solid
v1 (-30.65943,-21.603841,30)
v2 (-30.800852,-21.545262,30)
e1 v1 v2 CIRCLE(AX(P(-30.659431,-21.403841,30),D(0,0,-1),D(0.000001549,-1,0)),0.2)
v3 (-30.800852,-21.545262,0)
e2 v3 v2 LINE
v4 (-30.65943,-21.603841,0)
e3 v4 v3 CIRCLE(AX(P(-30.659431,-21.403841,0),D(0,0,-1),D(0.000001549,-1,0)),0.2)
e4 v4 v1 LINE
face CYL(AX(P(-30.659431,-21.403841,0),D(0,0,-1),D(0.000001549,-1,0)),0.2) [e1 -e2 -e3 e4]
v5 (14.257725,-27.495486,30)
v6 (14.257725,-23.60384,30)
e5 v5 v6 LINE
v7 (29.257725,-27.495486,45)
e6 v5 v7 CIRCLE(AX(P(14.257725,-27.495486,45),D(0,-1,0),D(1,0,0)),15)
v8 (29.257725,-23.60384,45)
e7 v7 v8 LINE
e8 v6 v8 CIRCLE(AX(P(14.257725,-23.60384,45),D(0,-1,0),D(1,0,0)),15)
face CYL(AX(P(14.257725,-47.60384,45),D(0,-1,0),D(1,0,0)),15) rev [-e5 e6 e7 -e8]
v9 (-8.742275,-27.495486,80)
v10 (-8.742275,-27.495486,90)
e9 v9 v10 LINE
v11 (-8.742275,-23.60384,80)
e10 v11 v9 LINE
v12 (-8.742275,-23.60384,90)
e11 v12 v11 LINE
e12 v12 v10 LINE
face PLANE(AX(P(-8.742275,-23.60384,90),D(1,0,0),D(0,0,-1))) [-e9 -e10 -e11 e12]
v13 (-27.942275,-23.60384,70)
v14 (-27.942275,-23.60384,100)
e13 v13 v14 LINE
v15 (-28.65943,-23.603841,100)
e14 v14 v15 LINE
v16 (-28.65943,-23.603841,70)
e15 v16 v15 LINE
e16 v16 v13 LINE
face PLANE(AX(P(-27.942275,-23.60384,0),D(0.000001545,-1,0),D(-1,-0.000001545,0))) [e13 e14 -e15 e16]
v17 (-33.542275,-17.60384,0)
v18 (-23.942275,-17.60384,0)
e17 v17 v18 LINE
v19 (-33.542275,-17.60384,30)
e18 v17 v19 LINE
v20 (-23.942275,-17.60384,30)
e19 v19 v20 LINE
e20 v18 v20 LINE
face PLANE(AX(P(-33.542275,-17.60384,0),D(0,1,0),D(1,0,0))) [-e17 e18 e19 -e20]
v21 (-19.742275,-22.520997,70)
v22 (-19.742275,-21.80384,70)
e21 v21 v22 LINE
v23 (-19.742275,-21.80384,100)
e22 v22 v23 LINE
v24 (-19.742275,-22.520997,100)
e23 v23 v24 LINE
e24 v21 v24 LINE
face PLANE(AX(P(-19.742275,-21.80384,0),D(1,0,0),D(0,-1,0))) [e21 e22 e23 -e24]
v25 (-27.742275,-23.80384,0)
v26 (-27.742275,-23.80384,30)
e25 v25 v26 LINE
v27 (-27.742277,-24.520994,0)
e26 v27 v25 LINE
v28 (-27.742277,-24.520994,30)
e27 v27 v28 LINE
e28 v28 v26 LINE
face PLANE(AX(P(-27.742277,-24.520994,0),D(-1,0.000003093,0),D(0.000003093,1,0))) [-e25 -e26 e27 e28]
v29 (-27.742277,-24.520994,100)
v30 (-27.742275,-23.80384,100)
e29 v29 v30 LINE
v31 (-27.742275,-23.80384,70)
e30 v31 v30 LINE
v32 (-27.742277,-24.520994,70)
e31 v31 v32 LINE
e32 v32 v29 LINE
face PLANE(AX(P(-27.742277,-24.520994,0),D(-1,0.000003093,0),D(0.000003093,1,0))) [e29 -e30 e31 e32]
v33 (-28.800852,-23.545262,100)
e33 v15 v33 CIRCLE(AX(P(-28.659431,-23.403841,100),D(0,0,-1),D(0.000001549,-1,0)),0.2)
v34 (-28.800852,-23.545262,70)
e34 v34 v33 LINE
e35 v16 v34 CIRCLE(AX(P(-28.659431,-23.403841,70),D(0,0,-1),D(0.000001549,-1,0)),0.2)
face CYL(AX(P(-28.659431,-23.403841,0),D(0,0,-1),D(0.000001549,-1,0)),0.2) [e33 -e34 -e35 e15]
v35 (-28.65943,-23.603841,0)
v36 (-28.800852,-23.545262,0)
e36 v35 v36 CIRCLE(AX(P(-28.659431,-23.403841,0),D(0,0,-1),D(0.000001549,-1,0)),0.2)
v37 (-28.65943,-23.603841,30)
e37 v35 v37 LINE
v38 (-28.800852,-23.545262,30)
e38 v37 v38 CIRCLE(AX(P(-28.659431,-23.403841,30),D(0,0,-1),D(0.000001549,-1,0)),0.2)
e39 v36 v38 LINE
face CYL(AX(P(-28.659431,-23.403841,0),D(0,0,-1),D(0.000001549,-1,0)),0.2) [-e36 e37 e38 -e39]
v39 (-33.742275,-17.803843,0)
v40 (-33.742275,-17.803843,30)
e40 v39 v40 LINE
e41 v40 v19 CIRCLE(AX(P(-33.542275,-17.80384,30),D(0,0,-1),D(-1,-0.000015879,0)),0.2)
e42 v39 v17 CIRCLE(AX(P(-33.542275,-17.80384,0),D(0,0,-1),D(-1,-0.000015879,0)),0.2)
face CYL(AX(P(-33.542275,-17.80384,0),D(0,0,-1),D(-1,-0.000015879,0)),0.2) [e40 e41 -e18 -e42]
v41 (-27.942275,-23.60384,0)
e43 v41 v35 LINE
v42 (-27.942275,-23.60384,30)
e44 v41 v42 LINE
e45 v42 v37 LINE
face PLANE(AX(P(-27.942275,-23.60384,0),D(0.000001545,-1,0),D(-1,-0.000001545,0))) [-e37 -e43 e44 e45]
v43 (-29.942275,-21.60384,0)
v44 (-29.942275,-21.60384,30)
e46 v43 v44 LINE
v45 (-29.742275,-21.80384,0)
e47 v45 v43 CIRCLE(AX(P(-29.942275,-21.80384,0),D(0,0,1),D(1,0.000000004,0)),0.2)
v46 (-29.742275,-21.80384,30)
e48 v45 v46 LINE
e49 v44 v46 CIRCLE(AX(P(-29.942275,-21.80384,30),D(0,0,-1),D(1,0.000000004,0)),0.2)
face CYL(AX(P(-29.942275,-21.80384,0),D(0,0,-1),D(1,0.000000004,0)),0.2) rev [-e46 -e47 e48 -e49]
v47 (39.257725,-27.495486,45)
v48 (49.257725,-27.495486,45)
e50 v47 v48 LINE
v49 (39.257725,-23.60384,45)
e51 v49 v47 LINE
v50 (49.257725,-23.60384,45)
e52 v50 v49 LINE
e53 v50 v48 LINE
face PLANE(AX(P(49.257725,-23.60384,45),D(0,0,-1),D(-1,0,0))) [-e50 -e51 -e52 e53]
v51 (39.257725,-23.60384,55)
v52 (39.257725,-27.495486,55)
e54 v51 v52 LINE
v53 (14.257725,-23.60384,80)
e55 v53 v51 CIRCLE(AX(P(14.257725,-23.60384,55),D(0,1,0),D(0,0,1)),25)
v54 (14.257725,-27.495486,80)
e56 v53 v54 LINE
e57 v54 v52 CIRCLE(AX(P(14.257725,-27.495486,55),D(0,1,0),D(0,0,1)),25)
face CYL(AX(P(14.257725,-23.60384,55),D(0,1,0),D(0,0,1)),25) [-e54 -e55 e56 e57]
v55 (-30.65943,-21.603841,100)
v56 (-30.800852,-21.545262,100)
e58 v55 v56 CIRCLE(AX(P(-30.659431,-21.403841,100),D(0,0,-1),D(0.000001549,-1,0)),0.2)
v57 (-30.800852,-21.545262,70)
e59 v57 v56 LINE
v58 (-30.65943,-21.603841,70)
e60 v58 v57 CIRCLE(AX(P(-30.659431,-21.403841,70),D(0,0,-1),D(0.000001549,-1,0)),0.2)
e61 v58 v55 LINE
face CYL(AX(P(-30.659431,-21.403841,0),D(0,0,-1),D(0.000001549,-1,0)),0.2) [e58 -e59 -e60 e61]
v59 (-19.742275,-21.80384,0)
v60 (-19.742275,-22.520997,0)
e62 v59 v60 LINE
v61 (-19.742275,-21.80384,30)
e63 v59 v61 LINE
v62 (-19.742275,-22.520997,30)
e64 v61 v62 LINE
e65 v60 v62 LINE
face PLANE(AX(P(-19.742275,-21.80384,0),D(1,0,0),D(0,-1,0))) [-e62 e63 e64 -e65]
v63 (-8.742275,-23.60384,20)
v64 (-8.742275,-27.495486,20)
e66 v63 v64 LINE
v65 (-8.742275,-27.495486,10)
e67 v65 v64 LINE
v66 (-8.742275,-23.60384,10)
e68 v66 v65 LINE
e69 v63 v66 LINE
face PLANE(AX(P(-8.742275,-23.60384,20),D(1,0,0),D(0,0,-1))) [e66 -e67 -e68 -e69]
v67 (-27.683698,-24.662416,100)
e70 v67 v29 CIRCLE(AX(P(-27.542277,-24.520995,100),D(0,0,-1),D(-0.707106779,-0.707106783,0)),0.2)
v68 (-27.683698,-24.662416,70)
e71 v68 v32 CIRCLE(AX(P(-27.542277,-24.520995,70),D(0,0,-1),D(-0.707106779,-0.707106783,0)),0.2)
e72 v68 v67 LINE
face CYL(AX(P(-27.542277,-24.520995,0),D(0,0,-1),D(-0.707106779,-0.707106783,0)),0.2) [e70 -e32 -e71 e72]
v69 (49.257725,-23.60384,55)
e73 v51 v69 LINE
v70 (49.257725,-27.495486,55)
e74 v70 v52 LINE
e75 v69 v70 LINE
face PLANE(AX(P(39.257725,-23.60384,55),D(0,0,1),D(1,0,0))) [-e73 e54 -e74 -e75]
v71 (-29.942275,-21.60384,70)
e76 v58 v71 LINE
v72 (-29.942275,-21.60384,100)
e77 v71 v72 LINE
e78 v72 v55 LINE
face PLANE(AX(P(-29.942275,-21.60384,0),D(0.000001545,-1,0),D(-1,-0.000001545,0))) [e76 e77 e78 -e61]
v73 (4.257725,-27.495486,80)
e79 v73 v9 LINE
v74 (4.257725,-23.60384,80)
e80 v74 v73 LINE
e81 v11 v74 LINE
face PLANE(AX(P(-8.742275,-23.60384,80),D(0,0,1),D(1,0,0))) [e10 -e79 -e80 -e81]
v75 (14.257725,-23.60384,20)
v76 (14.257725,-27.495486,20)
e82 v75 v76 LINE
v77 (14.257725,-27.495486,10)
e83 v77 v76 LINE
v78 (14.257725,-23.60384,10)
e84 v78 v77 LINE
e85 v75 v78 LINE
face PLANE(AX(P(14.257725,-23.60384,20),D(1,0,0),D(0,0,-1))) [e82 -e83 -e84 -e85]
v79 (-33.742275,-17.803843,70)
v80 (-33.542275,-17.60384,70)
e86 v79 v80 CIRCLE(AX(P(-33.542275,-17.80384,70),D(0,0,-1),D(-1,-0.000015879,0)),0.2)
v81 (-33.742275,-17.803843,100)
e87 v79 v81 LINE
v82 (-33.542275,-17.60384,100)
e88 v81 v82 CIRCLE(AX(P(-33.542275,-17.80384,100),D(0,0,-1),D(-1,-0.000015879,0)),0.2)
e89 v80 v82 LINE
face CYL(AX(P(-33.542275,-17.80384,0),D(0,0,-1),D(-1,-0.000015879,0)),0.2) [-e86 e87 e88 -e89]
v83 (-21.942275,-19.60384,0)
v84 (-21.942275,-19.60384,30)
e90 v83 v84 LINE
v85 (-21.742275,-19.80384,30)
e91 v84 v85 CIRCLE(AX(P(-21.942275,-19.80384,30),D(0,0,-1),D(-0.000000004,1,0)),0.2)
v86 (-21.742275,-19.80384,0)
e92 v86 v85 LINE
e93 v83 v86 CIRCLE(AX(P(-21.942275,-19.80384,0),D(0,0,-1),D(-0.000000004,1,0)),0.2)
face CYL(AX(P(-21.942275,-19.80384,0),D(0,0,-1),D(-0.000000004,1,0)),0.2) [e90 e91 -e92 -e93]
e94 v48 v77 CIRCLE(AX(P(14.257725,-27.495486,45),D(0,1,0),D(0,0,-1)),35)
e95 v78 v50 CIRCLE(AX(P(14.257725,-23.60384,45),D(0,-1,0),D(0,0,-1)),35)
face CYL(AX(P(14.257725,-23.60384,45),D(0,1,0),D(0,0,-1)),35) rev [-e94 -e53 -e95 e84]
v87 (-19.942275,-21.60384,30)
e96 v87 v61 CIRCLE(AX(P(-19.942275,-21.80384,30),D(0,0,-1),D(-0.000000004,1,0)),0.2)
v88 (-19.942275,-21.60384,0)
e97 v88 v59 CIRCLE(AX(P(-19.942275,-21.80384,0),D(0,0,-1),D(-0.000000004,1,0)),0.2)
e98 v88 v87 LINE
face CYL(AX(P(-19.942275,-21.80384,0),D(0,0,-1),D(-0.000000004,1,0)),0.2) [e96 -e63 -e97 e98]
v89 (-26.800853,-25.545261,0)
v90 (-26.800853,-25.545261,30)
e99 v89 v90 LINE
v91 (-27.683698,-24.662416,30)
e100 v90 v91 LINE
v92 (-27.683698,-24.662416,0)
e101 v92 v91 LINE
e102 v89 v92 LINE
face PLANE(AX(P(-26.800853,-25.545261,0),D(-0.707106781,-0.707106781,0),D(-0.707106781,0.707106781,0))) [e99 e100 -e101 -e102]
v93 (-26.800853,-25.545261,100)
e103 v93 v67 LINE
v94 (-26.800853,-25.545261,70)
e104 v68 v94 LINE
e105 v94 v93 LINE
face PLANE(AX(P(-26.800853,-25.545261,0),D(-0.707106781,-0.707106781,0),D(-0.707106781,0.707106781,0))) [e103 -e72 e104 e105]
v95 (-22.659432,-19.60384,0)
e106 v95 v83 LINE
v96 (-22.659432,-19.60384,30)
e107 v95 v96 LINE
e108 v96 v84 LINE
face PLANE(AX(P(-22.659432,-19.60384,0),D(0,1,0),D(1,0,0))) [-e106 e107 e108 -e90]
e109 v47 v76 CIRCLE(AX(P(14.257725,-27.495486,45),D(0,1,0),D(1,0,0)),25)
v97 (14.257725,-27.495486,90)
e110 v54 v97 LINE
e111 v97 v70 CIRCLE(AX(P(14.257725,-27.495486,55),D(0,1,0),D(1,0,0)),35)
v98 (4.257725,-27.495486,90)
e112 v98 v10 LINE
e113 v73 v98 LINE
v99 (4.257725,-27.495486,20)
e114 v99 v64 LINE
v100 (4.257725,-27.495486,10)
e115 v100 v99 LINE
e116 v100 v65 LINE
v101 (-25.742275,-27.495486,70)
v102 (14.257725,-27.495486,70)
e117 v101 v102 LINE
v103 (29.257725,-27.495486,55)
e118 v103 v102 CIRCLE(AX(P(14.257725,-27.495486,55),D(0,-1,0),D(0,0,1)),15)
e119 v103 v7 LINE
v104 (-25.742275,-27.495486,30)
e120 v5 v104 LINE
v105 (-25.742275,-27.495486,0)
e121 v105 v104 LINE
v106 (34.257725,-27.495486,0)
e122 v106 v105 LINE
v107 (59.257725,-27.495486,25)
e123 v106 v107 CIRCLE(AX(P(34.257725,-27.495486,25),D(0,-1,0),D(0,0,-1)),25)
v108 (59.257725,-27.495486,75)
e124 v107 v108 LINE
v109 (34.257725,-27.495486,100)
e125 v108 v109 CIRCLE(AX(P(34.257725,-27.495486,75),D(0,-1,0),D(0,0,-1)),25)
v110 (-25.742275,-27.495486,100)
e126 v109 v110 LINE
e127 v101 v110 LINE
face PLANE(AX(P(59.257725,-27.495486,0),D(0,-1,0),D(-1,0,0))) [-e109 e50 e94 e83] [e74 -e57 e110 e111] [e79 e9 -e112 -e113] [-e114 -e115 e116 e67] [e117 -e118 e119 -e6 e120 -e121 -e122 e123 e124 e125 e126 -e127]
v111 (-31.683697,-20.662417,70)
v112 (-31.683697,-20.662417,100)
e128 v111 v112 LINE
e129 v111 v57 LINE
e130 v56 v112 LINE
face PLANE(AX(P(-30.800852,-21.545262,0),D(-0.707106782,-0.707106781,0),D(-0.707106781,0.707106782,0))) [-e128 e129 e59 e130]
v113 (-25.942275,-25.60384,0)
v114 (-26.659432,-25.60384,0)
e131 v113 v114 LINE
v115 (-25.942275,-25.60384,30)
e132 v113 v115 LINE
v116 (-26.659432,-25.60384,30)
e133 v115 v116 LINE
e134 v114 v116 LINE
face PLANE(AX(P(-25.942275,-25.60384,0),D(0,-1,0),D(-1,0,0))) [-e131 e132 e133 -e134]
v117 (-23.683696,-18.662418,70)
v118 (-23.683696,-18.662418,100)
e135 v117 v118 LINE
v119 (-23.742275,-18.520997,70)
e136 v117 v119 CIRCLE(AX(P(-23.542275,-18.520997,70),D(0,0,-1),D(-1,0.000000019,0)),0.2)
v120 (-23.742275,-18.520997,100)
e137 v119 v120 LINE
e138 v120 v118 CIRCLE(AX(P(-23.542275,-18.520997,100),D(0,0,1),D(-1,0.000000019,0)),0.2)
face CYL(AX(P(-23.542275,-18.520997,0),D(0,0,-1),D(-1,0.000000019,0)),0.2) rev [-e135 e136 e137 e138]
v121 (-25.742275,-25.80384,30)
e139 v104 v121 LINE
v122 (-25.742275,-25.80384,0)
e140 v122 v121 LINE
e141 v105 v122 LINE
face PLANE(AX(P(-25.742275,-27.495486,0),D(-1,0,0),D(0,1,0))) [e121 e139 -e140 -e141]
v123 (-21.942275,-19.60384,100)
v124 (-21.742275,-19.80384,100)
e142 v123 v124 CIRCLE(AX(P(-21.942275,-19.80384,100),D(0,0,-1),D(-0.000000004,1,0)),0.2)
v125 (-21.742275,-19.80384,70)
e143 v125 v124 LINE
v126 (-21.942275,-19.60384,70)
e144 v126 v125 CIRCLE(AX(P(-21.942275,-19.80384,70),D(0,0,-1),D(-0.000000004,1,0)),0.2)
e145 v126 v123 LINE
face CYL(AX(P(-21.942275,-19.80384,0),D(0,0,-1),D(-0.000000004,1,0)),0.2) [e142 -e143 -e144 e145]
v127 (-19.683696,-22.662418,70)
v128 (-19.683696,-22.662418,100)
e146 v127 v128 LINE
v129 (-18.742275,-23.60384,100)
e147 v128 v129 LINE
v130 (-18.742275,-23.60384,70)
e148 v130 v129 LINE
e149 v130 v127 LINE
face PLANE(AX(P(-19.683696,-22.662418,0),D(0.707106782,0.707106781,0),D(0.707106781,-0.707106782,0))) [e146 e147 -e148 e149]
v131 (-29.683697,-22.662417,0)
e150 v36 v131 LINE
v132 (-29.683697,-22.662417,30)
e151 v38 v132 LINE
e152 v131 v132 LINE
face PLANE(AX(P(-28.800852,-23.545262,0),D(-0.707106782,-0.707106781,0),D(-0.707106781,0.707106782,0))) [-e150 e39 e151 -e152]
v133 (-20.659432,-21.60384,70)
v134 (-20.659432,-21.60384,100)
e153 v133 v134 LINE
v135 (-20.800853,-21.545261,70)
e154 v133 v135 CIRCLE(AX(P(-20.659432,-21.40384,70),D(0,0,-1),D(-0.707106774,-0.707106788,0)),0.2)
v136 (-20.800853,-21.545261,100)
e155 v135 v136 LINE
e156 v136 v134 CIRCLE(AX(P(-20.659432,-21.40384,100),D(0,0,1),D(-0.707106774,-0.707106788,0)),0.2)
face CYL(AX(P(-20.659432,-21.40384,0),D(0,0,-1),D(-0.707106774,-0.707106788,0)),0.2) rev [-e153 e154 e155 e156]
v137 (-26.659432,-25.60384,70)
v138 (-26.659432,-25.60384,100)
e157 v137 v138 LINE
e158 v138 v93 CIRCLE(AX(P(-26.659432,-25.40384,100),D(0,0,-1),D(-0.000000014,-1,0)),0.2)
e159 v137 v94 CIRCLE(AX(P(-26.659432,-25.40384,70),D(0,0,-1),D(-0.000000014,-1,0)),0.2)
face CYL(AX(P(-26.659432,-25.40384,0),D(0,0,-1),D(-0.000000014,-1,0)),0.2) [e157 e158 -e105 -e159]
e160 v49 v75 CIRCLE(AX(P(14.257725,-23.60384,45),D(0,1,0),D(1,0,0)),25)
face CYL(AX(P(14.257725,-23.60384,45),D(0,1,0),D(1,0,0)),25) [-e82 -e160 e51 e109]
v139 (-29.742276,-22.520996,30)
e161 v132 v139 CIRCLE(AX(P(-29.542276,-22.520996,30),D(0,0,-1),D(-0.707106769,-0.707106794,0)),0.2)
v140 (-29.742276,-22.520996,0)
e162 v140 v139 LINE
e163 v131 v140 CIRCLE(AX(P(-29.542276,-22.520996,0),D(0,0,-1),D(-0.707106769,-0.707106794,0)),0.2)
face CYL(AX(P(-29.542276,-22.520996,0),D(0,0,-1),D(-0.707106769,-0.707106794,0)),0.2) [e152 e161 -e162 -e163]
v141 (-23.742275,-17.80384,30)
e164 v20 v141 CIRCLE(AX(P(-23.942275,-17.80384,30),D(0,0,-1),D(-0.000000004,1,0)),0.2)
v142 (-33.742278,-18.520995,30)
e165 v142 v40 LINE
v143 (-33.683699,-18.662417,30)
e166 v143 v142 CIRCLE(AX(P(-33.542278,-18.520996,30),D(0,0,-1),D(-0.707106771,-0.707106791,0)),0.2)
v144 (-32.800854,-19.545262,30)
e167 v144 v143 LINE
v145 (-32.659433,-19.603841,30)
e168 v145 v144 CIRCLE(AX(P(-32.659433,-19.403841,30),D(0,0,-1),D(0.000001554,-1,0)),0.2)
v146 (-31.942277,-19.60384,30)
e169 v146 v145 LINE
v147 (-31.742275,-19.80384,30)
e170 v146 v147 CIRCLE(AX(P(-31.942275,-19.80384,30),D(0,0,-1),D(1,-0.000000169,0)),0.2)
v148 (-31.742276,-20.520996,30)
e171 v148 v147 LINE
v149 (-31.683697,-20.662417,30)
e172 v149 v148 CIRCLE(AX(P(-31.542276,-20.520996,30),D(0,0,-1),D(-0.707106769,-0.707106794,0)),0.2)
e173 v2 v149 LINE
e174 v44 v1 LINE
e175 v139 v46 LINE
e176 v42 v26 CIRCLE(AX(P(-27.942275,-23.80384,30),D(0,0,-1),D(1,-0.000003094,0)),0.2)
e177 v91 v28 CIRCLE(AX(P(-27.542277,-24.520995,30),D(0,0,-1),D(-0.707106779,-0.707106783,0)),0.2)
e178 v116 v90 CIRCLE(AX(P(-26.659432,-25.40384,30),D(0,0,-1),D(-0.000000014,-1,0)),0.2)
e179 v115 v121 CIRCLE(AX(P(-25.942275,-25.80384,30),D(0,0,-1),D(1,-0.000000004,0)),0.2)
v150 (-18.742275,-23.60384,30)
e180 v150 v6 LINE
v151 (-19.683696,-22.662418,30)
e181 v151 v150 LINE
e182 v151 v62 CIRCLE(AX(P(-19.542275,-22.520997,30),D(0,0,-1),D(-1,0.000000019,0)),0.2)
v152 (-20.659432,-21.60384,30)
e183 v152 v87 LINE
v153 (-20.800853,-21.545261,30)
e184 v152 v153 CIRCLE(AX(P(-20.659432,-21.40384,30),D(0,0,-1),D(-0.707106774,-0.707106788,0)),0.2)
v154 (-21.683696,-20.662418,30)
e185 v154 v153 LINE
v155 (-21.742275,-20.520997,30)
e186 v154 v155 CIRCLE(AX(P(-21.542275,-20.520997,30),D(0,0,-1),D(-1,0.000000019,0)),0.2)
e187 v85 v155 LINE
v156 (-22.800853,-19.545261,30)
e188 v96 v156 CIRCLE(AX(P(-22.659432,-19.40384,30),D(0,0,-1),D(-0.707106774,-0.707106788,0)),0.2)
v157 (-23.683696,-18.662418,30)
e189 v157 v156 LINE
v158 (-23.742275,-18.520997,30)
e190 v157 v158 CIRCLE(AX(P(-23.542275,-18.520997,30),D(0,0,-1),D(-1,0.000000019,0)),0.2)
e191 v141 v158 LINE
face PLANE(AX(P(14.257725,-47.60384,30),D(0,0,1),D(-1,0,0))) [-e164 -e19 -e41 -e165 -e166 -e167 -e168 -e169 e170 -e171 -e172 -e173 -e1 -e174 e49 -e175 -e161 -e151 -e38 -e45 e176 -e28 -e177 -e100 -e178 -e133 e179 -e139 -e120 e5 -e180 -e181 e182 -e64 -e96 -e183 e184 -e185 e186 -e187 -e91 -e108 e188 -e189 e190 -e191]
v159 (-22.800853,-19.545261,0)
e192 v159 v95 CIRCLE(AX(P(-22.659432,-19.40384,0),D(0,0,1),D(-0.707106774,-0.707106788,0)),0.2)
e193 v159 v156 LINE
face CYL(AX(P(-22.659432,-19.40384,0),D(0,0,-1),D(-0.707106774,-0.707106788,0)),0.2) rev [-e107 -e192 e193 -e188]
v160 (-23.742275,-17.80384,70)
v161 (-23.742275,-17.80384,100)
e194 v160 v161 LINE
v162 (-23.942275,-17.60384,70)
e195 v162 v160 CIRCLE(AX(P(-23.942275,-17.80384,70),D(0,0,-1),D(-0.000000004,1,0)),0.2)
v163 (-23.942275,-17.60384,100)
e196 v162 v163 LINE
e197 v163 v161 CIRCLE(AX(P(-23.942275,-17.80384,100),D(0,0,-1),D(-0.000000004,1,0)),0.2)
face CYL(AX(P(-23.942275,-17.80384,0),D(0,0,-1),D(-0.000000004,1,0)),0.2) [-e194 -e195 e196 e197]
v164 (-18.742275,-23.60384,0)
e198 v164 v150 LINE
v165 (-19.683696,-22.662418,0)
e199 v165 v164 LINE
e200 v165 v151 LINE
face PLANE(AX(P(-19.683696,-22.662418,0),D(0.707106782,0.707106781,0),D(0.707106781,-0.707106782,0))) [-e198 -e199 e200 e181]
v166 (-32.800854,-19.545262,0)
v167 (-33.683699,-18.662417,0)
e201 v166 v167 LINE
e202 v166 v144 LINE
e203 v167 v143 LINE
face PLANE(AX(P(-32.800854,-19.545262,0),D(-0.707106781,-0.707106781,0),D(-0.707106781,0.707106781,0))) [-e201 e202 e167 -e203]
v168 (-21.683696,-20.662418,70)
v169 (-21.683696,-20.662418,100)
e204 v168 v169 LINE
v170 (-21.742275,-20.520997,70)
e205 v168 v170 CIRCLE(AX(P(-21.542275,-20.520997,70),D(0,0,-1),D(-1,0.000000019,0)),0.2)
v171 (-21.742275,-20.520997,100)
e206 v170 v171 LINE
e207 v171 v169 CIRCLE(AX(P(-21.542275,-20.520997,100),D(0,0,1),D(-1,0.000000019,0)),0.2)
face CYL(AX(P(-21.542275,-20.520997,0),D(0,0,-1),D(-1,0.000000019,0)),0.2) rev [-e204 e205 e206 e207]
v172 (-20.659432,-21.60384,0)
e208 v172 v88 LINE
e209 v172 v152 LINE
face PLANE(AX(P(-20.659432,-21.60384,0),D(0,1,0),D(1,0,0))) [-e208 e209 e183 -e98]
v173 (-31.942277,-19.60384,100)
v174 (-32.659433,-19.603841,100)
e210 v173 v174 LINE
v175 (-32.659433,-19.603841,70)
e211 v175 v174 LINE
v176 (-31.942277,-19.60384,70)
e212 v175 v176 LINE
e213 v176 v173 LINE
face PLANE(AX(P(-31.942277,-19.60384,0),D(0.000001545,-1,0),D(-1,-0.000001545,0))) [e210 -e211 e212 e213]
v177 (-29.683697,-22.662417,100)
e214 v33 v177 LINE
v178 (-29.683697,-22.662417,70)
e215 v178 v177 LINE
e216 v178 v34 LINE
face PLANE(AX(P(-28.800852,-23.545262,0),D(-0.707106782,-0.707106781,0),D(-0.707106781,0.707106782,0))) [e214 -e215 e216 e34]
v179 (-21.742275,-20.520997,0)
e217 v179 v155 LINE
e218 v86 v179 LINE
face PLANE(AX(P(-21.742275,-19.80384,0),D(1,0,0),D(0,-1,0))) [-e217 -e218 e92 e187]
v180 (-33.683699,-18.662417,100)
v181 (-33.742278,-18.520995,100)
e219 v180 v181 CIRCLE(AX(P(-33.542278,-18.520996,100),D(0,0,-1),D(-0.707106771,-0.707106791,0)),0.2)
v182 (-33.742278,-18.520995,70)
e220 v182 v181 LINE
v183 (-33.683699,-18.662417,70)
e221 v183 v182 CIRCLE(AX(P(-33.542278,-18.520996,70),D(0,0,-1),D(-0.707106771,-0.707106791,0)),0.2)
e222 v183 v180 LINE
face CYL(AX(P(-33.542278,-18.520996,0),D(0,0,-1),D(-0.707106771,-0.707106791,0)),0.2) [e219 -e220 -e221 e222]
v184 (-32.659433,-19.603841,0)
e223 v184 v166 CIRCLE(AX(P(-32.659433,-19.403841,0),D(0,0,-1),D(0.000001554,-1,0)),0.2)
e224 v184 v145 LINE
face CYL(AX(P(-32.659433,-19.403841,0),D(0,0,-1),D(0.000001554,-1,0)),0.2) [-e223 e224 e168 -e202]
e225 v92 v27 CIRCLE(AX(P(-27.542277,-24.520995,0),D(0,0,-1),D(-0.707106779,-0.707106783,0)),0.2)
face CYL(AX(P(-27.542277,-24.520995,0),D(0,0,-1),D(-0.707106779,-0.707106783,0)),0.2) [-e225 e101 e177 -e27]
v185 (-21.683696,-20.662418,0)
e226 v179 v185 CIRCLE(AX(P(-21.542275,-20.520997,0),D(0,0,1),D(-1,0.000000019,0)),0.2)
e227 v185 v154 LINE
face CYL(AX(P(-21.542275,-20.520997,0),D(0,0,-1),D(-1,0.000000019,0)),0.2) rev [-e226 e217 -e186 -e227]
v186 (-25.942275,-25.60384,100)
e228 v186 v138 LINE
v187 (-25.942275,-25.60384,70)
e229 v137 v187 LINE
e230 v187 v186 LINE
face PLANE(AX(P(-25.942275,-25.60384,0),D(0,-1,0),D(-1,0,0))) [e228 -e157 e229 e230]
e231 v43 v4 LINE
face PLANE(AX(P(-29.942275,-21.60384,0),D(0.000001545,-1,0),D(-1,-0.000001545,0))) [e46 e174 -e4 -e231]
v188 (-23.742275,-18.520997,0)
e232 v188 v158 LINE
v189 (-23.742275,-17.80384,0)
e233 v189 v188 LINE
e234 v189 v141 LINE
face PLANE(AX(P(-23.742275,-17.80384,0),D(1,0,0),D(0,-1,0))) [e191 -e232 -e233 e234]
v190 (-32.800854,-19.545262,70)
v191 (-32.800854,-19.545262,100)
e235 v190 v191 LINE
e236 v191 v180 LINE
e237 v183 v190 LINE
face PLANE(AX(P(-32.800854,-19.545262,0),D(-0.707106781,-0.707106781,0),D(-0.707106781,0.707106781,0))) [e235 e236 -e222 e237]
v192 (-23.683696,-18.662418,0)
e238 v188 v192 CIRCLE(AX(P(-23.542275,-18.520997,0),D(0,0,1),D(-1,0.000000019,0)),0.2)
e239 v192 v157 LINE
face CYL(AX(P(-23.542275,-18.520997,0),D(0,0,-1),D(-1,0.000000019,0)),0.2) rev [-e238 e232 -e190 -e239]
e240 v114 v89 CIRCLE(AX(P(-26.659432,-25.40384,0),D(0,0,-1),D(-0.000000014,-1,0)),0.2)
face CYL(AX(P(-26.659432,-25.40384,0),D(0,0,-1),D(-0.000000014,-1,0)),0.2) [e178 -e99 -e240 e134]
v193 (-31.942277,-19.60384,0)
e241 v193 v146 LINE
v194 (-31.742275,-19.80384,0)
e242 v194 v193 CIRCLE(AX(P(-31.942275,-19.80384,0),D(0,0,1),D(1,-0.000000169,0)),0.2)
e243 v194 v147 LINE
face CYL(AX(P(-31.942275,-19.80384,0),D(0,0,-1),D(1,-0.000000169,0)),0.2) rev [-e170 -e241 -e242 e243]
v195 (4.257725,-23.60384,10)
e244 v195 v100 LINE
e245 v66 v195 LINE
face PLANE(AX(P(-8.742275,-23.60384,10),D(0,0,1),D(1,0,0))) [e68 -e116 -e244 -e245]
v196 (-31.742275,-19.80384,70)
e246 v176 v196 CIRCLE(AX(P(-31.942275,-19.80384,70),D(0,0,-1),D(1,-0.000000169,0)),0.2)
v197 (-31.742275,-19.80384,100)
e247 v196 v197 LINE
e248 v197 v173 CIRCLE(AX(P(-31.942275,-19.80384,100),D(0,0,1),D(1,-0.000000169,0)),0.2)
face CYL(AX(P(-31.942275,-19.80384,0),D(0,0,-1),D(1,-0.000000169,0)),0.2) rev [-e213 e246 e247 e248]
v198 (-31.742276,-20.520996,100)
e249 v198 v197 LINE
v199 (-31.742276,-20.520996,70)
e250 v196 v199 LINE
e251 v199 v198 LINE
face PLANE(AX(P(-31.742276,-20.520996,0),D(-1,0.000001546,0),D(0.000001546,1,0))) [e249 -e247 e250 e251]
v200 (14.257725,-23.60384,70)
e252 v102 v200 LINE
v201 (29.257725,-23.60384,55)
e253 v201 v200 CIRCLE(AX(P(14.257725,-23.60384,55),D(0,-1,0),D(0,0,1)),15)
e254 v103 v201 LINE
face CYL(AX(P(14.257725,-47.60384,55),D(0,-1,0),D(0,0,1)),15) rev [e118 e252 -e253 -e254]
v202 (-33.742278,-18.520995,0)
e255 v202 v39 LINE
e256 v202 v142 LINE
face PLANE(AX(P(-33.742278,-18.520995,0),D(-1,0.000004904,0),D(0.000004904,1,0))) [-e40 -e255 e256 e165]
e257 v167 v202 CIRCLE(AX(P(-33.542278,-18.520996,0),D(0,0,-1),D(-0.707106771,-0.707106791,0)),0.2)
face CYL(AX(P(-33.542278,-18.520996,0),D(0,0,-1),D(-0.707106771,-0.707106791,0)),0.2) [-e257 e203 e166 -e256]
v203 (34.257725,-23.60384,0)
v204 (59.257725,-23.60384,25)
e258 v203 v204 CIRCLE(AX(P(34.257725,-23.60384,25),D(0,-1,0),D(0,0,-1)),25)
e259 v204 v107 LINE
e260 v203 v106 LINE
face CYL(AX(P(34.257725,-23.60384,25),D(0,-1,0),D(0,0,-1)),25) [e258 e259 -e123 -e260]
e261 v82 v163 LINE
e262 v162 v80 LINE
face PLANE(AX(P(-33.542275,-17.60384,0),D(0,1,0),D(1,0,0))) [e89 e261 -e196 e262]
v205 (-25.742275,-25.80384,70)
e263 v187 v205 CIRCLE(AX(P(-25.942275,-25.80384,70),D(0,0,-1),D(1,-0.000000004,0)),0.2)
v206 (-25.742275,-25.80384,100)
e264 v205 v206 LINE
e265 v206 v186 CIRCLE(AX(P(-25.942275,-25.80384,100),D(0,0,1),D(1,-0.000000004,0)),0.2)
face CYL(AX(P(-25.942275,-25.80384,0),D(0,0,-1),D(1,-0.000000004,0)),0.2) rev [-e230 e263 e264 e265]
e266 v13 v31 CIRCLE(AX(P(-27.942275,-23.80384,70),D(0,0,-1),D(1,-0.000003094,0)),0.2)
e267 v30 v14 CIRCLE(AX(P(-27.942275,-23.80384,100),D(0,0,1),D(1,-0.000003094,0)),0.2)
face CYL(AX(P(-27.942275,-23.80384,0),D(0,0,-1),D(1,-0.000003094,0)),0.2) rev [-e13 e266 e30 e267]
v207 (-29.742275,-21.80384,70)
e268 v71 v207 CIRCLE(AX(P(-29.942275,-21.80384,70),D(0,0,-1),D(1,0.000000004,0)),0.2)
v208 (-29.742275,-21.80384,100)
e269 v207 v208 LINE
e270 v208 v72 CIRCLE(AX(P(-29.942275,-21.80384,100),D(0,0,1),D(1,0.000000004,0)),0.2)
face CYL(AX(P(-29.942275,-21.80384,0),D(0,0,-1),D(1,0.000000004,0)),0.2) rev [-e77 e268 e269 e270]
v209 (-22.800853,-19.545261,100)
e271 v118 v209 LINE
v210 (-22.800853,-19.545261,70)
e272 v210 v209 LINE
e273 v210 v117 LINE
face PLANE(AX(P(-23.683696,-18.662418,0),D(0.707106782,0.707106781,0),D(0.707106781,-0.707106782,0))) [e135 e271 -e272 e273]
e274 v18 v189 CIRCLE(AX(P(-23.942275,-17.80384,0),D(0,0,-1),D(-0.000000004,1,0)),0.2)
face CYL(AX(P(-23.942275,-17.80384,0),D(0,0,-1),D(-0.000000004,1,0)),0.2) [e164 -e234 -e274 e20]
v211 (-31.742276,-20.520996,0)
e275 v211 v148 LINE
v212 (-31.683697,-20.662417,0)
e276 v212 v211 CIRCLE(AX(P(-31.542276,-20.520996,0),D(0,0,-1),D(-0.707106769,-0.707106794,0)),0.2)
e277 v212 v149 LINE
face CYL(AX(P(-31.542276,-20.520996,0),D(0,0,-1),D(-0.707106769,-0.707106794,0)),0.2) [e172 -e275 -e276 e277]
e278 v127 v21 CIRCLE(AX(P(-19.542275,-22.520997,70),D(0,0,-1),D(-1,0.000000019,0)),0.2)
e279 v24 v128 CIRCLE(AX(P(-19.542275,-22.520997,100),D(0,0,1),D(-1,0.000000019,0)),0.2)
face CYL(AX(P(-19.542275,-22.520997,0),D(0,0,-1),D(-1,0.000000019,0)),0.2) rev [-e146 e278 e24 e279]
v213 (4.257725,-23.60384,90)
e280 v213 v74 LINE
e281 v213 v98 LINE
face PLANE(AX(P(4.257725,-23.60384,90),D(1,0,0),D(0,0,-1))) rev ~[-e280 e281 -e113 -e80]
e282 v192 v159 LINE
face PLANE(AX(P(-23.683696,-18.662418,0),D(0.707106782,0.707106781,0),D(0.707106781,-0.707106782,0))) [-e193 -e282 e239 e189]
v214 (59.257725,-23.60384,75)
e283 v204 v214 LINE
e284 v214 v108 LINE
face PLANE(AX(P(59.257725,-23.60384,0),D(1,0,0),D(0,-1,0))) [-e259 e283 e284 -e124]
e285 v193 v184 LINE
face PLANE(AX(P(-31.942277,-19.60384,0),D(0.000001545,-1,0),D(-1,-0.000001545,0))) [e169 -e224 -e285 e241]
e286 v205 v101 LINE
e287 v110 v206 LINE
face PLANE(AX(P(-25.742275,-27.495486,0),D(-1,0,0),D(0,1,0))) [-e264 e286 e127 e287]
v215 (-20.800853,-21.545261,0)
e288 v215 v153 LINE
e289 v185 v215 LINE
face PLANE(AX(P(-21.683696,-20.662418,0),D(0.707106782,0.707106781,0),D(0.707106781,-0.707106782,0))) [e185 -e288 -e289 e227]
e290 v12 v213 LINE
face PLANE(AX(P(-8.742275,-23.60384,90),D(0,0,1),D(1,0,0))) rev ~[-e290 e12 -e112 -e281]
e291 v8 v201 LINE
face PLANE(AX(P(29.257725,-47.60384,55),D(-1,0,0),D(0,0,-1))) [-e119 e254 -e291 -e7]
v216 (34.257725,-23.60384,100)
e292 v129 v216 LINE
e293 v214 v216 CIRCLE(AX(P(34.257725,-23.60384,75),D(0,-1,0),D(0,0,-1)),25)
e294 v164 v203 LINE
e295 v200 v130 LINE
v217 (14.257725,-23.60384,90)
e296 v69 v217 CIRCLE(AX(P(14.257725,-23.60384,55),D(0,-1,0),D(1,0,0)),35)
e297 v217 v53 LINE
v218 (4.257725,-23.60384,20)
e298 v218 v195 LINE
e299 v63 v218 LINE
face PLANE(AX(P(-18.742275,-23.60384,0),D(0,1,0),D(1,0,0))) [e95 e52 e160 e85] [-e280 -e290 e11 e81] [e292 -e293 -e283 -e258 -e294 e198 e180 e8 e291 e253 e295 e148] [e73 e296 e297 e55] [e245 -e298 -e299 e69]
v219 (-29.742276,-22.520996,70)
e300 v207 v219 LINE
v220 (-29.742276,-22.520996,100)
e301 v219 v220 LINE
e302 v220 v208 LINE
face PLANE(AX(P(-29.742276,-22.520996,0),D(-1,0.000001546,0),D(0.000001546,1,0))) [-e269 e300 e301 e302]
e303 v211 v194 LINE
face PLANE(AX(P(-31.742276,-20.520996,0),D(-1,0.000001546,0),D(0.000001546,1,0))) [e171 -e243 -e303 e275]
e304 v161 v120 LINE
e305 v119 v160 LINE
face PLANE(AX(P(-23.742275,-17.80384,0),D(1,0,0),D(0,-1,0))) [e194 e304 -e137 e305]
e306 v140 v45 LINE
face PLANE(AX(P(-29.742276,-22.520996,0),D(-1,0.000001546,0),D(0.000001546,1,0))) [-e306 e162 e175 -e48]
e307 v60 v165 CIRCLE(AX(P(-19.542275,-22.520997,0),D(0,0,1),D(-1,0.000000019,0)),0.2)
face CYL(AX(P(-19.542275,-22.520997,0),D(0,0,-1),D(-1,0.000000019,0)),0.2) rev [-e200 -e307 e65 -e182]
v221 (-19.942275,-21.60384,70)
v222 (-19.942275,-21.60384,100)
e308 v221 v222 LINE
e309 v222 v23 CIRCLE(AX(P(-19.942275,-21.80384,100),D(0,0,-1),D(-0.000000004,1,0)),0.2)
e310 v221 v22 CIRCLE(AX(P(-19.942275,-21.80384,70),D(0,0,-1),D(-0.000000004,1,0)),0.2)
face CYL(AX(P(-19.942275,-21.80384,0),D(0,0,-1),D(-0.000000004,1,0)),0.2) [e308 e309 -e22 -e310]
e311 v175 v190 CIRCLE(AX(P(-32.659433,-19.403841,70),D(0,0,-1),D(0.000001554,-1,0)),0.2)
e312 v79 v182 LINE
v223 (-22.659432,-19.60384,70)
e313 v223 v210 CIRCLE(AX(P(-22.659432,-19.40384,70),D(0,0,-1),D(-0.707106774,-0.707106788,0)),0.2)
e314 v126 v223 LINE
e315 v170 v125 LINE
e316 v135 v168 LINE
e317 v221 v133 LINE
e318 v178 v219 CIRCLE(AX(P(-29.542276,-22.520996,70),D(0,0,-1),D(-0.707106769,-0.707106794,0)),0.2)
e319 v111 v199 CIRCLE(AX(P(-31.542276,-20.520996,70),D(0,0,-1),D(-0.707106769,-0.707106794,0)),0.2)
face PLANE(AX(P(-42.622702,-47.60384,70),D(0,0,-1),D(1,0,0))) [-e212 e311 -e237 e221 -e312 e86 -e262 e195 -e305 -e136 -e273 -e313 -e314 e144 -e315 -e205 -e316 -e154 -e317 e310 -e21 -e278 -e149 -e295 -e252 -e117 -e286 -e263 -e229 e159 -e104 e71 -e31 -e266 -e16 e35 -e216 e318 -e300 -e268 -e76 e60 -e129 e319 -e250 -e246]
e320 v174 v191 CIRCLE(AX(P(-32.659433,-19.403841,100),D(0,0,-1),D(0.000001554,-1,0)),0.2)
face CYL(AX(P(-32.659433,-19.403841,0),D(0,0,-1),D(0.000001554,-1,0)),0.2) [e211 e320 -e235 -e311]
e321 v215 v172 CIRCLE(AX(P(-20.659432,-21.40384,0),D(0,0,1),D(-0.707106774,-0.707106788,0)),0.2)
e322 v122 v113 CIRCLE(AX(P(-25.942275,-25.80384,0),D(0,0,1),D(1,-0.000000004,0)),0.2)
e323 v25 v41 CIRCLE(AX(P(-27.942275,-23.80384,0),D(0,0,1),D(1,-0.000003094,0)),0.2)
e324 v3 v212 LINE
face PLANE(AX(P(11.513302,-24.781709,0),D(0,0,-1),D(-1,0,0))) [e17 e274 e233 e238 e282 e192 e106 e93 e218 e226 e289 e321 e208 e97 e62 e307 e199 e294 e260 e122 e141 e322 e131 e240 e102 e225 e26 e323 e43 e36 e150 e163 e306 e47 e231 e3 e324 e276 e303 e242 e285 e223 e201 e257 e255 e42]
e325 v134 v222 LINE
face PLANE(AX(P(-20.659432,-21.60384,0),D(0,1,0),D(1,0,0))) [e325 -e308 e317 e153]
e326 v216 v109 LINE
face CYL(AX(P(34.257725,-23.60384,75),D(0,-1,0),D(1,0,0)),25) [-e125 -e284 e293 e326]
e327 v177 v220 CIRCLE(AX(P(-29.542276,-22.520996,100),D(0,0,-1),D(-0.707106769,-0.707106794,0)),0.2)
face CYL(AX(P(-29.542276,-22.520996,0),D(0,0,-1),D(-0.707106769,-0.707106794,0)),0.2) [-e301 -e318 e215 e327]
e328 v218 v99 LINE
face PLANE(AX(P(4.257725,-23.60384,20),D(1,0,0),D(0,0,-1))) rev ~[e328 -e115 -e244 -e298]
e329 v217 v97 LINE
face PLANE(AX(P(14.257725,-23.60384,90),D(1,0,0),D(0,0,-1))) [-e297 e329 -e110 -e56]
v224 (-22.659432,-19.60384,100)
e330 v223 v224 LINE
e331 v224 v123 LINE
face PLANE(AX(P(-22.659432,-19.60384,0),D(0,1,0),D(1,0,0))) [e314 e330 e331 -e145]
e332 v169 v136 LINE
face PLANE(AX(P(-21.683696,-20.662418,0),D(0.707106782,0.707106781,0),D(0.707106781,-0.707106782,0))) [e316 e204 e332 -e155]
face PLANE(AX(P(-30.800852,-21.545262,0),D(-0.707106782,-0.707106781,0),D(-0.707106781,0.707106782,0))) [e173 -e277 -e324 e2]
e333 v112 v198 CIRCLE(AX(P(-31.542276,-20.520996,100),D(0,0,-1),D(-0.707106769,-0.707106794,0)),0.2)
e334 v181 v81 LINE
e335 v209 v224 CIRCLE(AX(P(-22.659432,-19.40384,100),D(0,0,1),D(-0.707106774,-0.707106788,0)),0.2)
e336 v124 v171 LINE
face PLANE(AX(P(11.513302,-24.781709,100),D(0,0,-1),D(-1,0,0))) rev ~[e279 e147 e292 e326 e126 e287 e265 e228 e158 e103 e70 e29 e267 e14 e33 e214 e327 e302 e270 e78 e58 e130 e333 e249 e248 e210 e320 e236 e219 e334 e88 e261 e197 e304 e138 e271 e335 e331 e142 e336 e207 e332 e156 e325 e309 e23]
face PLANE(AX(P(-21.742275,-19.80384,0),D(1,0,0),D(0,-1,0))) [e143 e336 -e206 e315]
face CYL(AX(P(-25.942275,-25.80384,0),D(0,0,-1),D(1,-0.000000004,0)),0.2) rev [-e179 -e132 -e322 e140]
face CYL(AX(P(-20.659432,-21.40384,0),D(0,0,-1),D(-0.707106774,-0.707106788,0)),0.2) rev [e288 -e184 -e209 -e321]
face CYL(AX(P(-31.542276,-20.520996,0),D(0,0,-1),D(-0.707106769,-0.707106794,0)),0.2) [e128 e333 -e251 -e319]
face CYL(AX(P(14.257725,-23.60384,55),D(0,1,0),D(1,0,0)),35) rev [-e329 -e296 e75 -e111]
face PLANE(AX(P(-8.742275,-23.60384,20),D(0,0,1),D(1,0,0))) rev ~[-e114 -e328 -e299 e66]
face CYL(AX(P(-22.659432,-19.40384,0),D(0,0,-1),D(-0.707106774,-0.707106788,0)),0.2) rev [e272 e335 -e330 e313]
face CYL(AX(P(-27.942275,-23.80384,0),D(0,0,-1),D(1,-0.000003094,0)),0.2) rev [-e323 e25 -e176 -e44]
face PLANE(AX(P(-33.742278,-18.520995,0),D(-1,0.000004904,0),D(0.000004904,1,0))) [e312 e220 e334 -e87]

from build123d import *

# Parameters (mm, degrees)
BOSS_EXTRUDE1_DEPTH     = 100
CUT_EXTRUDE1_DEPTH      = 24
CUT_EXTRUDE1_DEPTH_BACK = 24
FILLET2_R               = 25
SKETCH4_W               = 13
SKETCH4_H               = 10
CUT_EXTRUDE3_DEPTH      = 23


with BuildPart() as part:
    # Sketch1 → Boss-Extrude1 (new body)
    with BuildSketch(Plane.XY):
        with BuildLine():
            Line((-25.742274507, -27.495485701), (-25.742274507, -25.803839777))
            ThreePointArc((-25.742274507, -25.803839777), (-25.800853151, -25.66241842), (-25.942274507, -25.603839777))
            Line((-25.942274507, -25.603839777), (-26.659431795, -25.603839777))
            ThreePointArc((-26.659431795, -25.603839777), (-26.735968481, -25.588615683), (-26.800853151, -25.545261133))
            Line((-26.800853151, -25.545261133), (-27.683698081, -24.662416203))
            ThreePointArc((-27.683698081, -24.662416203), (-27.72705275, -24.597531247), (-27.742276725, -24.520994228))
            Line((-27.742276725, -24.520994228), (-27.742274507, -23.803840395))
            ThreePointArc((-27.742274507, -23.803840395), (-27.800852932, -23.662418639), (-27.942274507, -23.603839777))
            Line((-27.942274507, -23.603839777), (-28.659430376, -23.603840885))
            ThreePointArc((-28.659430376, -23.603840885), (-28.735967229, -23.588616851), (-28.800852042, -23.545262242))
            Line((-28.800852042, -23.545262242), (-29.683696972, -22.662417311))
            ThreePointArc((-29.683696972, -22.662417311), (-29.727051582, -22.597532499), (-29.742275616, -22.520995646))
            Line((-29.742275616, -22.520995646), (-29.742274507, -21.803839777))
            ThreePointArc((-29.742274507, -21.803839777), (-29.800853256, -21.662418316), (-29.942274803, -21.603839777))
            Line((-29.942274803, -21.603839777), (-30.659430376, -21.603840885))
            ThreePointArc((-30.659430376, -21.603840885), (-30.735967229, -21.588616851), (-30.800852042, -21.545262242))
            Line((-30.800852042, -21.545262242), (-31.683696972, -20.662417311))
            ThreePointArc((-31.683696972, -20.662417311), (-31.727051582, -20.597532499), (-31.742275616, -20.520995646))
            Line((-31.742275616, -20.520995646), (-31.742274507, -19.80383981))
            ThreePointArc((-31.742274507, -19.80383981), (-31.800854095, -19.662417476), (-31.942277212, -19.603839777))
            Line((-31.942277212, -19.603839777), (-32.659432785, -19.603840885))
            ThreePointArc((-32.659432785, -19.603840885), (-32.735969638, -19.588616851), (-32.80085445, -19.545262242))
            Line((-32.80085445, -19.545262242), (-33.683699381, -18.662417311))
            ThreePointArc((-33.683699381, -18.662417311), (-33.727054119, -18.597532189), (-33.742278024, -18.520994974))
            Line((-33.742278024, -18.520994974), (-33.742274507, -17.803842952))
            ThreePointArc((-33.742274507, -17.803842952), (-33.683696986, -17.662419543), (-33.542274507, -17.603839777))
            Line((-33.542274507, -17.603839777), (-23.942274507, -17.603839777))
            ThreePointArc((-23.942274507, -17.603839777), (-23.800853151, -17.66241842), (-23.742274507, -17.803839777))
            Line((-23.742274507, -17.803839777), (-23.742274507, -18.520997064))
            ThreePointArc((-23.742274507, -18.520997064), (-23.727050414, -18.597533751), (-23.683695863, -18.66241842))
            Line((-23.683695863, -18.66241842), (-22.800853151, -19.545261133))
            ThreePointArc((-22.800853151, -19.545261133), (-22.735968481, -19.588615683), (-22.659431795, -19.603839777))
            Line((-22.659431795, -19.603839777), (-21.942274507, -19.603839777))
            ThreePointArc((-21.942274507, -19.603839777), (-21.800853151, -19.66241842), (-21.742274507, -19.803839777))
            Line((-21.742274507, -19.803839777), (-21.742274507, -20.520997064))
            ThreePointArc((-21.742274507, -20.520997064), (-21.727050414, -20.597533751), (-21.683695863, -20.66241842))
            Line((-21.683695863, -20.66241842), (-20.800853151, -21.545261133))
            ThreePointArc((-20.800853151, -21.545261133), (-20.735968481, -21.588615683), (-20.659431795, -21.603839777))
            Line((-20.659431795, -21.603839777), (-19.942274507, -21.603839777))
            ThreePointArc((-19.942274507, -21.603839777), (-19.800853151, -21.66241842), (-19.742274507, -21.803839777))
            Line((-19.742274507, -21.803839777), (-19.742274507, -22.520997064))
            ThreePointArc((-19.742274507, -22.520997064), (-19.727050414, -22.597533751), (-19.683695863, -22.66241842))
            Line((-19.683695863, -22.66241842), (-18.742274507, -23.603839777))
            Line((-18.742274507, -23.603839777), (-17.742274507, -23.603839777))
            Line((-17.742274507, -23.603839777), (59.257725493, -23.603839777))
            Line((59.257725493, -23.603839777), (59.257725493, -27.495485701))
            Line((59.257725493, -27.495485701), (-25.742274507, -27.495485701))
        make_face()
    extrude(amount=BOSS_EXTRUDE1_DEPTH)

    # Sketch2 → Cut-Extrude1 (cut, two sides: drawn at the far end of the back side and taken through both)
    with BuildSketch(Plane(origin=(0, -23.603839777, 0), x_dir=(1, 0, 0), z_dir=(0, 1, 0)).offset(-CUT_EXTRUDE1_DEPTH_BACK)):
        with BuildLine():
            Line((14.257725493, -30), (-42.622702361, -30))
            Line((-42.622702361, -30), (-42.622702361, -70))
            Line((-42.622702361, -70), (14.257725493, -70))
            ThreePointArc((14.257725493, -70), (24.864327211, -65.606601718), (29.257725493, -55))
            Line((29.257725493, -55), (29.257725493, -45))
            ThreePointArc((29.257725493, -45), (24.864327211, -34.393398282), (14.257725493, -30))
        make_face()
    extrude(amount=CUT_EXTRUDE1_DEPTH + CUT_EXTRUDE1_DEPTH_BACK, mode=Mode.SUBTRACT)

    # Fillet2
    fillet2_edges = [part.edges().sort_by_distance(p)[0] for p in [
        (59.257725493, -25.549662739, 100),
        (59.257725493, -25.549662739, 0),
    ]]
    fillet(fillet2_edges, radius=FILLET2_R)

    # Sketch4 → Cut-Extrude3 (cut)
    with BuildSketch(Plane(origin=(0, -23.603839777, 0), x_dir=(1, 0, 0), z_dir=(0, 1, 0))):
        with BuildLine():
            Line((14.257725493, -90), (14.257725493, -80))
            ThreePointArc((14.257725493, -80), (31.935395023, -72.67766953), (39.257725493, -55))
            Line((39.257725493, -55), (49.257725493, -55))
            ThreePointArc((49.257725493, -55), (39.006462834, -79.748737342), (14.257725493, -90))
        make_face()
        with Locations((-2.242274507, -85)):
            Rectangle(SKETCH4_W, SKETCH4_H)
        with BuildLine():
            Line((14.257725493, -20), (14.257725493, -10))
            ThreePointArc((14.257725493, -10), (39.006462834, -20.251262658), (49.257725493, -45))
            Line((49.257725493, -45), (39.257725493, -45))
            ThreePointArc((39.257725493, -45), (31.935395023, -27.32233047), (14.257725493, -20))
        make_face()
        with Locations((-2.242274507, -15)):
            Rectangle(SKETCH4_W, SKETCH4_H)
    extrude(amount=-CUT_EXTRUDE3_DEPTH, mode=Mode.SUBTRACT)


solid = part.part
